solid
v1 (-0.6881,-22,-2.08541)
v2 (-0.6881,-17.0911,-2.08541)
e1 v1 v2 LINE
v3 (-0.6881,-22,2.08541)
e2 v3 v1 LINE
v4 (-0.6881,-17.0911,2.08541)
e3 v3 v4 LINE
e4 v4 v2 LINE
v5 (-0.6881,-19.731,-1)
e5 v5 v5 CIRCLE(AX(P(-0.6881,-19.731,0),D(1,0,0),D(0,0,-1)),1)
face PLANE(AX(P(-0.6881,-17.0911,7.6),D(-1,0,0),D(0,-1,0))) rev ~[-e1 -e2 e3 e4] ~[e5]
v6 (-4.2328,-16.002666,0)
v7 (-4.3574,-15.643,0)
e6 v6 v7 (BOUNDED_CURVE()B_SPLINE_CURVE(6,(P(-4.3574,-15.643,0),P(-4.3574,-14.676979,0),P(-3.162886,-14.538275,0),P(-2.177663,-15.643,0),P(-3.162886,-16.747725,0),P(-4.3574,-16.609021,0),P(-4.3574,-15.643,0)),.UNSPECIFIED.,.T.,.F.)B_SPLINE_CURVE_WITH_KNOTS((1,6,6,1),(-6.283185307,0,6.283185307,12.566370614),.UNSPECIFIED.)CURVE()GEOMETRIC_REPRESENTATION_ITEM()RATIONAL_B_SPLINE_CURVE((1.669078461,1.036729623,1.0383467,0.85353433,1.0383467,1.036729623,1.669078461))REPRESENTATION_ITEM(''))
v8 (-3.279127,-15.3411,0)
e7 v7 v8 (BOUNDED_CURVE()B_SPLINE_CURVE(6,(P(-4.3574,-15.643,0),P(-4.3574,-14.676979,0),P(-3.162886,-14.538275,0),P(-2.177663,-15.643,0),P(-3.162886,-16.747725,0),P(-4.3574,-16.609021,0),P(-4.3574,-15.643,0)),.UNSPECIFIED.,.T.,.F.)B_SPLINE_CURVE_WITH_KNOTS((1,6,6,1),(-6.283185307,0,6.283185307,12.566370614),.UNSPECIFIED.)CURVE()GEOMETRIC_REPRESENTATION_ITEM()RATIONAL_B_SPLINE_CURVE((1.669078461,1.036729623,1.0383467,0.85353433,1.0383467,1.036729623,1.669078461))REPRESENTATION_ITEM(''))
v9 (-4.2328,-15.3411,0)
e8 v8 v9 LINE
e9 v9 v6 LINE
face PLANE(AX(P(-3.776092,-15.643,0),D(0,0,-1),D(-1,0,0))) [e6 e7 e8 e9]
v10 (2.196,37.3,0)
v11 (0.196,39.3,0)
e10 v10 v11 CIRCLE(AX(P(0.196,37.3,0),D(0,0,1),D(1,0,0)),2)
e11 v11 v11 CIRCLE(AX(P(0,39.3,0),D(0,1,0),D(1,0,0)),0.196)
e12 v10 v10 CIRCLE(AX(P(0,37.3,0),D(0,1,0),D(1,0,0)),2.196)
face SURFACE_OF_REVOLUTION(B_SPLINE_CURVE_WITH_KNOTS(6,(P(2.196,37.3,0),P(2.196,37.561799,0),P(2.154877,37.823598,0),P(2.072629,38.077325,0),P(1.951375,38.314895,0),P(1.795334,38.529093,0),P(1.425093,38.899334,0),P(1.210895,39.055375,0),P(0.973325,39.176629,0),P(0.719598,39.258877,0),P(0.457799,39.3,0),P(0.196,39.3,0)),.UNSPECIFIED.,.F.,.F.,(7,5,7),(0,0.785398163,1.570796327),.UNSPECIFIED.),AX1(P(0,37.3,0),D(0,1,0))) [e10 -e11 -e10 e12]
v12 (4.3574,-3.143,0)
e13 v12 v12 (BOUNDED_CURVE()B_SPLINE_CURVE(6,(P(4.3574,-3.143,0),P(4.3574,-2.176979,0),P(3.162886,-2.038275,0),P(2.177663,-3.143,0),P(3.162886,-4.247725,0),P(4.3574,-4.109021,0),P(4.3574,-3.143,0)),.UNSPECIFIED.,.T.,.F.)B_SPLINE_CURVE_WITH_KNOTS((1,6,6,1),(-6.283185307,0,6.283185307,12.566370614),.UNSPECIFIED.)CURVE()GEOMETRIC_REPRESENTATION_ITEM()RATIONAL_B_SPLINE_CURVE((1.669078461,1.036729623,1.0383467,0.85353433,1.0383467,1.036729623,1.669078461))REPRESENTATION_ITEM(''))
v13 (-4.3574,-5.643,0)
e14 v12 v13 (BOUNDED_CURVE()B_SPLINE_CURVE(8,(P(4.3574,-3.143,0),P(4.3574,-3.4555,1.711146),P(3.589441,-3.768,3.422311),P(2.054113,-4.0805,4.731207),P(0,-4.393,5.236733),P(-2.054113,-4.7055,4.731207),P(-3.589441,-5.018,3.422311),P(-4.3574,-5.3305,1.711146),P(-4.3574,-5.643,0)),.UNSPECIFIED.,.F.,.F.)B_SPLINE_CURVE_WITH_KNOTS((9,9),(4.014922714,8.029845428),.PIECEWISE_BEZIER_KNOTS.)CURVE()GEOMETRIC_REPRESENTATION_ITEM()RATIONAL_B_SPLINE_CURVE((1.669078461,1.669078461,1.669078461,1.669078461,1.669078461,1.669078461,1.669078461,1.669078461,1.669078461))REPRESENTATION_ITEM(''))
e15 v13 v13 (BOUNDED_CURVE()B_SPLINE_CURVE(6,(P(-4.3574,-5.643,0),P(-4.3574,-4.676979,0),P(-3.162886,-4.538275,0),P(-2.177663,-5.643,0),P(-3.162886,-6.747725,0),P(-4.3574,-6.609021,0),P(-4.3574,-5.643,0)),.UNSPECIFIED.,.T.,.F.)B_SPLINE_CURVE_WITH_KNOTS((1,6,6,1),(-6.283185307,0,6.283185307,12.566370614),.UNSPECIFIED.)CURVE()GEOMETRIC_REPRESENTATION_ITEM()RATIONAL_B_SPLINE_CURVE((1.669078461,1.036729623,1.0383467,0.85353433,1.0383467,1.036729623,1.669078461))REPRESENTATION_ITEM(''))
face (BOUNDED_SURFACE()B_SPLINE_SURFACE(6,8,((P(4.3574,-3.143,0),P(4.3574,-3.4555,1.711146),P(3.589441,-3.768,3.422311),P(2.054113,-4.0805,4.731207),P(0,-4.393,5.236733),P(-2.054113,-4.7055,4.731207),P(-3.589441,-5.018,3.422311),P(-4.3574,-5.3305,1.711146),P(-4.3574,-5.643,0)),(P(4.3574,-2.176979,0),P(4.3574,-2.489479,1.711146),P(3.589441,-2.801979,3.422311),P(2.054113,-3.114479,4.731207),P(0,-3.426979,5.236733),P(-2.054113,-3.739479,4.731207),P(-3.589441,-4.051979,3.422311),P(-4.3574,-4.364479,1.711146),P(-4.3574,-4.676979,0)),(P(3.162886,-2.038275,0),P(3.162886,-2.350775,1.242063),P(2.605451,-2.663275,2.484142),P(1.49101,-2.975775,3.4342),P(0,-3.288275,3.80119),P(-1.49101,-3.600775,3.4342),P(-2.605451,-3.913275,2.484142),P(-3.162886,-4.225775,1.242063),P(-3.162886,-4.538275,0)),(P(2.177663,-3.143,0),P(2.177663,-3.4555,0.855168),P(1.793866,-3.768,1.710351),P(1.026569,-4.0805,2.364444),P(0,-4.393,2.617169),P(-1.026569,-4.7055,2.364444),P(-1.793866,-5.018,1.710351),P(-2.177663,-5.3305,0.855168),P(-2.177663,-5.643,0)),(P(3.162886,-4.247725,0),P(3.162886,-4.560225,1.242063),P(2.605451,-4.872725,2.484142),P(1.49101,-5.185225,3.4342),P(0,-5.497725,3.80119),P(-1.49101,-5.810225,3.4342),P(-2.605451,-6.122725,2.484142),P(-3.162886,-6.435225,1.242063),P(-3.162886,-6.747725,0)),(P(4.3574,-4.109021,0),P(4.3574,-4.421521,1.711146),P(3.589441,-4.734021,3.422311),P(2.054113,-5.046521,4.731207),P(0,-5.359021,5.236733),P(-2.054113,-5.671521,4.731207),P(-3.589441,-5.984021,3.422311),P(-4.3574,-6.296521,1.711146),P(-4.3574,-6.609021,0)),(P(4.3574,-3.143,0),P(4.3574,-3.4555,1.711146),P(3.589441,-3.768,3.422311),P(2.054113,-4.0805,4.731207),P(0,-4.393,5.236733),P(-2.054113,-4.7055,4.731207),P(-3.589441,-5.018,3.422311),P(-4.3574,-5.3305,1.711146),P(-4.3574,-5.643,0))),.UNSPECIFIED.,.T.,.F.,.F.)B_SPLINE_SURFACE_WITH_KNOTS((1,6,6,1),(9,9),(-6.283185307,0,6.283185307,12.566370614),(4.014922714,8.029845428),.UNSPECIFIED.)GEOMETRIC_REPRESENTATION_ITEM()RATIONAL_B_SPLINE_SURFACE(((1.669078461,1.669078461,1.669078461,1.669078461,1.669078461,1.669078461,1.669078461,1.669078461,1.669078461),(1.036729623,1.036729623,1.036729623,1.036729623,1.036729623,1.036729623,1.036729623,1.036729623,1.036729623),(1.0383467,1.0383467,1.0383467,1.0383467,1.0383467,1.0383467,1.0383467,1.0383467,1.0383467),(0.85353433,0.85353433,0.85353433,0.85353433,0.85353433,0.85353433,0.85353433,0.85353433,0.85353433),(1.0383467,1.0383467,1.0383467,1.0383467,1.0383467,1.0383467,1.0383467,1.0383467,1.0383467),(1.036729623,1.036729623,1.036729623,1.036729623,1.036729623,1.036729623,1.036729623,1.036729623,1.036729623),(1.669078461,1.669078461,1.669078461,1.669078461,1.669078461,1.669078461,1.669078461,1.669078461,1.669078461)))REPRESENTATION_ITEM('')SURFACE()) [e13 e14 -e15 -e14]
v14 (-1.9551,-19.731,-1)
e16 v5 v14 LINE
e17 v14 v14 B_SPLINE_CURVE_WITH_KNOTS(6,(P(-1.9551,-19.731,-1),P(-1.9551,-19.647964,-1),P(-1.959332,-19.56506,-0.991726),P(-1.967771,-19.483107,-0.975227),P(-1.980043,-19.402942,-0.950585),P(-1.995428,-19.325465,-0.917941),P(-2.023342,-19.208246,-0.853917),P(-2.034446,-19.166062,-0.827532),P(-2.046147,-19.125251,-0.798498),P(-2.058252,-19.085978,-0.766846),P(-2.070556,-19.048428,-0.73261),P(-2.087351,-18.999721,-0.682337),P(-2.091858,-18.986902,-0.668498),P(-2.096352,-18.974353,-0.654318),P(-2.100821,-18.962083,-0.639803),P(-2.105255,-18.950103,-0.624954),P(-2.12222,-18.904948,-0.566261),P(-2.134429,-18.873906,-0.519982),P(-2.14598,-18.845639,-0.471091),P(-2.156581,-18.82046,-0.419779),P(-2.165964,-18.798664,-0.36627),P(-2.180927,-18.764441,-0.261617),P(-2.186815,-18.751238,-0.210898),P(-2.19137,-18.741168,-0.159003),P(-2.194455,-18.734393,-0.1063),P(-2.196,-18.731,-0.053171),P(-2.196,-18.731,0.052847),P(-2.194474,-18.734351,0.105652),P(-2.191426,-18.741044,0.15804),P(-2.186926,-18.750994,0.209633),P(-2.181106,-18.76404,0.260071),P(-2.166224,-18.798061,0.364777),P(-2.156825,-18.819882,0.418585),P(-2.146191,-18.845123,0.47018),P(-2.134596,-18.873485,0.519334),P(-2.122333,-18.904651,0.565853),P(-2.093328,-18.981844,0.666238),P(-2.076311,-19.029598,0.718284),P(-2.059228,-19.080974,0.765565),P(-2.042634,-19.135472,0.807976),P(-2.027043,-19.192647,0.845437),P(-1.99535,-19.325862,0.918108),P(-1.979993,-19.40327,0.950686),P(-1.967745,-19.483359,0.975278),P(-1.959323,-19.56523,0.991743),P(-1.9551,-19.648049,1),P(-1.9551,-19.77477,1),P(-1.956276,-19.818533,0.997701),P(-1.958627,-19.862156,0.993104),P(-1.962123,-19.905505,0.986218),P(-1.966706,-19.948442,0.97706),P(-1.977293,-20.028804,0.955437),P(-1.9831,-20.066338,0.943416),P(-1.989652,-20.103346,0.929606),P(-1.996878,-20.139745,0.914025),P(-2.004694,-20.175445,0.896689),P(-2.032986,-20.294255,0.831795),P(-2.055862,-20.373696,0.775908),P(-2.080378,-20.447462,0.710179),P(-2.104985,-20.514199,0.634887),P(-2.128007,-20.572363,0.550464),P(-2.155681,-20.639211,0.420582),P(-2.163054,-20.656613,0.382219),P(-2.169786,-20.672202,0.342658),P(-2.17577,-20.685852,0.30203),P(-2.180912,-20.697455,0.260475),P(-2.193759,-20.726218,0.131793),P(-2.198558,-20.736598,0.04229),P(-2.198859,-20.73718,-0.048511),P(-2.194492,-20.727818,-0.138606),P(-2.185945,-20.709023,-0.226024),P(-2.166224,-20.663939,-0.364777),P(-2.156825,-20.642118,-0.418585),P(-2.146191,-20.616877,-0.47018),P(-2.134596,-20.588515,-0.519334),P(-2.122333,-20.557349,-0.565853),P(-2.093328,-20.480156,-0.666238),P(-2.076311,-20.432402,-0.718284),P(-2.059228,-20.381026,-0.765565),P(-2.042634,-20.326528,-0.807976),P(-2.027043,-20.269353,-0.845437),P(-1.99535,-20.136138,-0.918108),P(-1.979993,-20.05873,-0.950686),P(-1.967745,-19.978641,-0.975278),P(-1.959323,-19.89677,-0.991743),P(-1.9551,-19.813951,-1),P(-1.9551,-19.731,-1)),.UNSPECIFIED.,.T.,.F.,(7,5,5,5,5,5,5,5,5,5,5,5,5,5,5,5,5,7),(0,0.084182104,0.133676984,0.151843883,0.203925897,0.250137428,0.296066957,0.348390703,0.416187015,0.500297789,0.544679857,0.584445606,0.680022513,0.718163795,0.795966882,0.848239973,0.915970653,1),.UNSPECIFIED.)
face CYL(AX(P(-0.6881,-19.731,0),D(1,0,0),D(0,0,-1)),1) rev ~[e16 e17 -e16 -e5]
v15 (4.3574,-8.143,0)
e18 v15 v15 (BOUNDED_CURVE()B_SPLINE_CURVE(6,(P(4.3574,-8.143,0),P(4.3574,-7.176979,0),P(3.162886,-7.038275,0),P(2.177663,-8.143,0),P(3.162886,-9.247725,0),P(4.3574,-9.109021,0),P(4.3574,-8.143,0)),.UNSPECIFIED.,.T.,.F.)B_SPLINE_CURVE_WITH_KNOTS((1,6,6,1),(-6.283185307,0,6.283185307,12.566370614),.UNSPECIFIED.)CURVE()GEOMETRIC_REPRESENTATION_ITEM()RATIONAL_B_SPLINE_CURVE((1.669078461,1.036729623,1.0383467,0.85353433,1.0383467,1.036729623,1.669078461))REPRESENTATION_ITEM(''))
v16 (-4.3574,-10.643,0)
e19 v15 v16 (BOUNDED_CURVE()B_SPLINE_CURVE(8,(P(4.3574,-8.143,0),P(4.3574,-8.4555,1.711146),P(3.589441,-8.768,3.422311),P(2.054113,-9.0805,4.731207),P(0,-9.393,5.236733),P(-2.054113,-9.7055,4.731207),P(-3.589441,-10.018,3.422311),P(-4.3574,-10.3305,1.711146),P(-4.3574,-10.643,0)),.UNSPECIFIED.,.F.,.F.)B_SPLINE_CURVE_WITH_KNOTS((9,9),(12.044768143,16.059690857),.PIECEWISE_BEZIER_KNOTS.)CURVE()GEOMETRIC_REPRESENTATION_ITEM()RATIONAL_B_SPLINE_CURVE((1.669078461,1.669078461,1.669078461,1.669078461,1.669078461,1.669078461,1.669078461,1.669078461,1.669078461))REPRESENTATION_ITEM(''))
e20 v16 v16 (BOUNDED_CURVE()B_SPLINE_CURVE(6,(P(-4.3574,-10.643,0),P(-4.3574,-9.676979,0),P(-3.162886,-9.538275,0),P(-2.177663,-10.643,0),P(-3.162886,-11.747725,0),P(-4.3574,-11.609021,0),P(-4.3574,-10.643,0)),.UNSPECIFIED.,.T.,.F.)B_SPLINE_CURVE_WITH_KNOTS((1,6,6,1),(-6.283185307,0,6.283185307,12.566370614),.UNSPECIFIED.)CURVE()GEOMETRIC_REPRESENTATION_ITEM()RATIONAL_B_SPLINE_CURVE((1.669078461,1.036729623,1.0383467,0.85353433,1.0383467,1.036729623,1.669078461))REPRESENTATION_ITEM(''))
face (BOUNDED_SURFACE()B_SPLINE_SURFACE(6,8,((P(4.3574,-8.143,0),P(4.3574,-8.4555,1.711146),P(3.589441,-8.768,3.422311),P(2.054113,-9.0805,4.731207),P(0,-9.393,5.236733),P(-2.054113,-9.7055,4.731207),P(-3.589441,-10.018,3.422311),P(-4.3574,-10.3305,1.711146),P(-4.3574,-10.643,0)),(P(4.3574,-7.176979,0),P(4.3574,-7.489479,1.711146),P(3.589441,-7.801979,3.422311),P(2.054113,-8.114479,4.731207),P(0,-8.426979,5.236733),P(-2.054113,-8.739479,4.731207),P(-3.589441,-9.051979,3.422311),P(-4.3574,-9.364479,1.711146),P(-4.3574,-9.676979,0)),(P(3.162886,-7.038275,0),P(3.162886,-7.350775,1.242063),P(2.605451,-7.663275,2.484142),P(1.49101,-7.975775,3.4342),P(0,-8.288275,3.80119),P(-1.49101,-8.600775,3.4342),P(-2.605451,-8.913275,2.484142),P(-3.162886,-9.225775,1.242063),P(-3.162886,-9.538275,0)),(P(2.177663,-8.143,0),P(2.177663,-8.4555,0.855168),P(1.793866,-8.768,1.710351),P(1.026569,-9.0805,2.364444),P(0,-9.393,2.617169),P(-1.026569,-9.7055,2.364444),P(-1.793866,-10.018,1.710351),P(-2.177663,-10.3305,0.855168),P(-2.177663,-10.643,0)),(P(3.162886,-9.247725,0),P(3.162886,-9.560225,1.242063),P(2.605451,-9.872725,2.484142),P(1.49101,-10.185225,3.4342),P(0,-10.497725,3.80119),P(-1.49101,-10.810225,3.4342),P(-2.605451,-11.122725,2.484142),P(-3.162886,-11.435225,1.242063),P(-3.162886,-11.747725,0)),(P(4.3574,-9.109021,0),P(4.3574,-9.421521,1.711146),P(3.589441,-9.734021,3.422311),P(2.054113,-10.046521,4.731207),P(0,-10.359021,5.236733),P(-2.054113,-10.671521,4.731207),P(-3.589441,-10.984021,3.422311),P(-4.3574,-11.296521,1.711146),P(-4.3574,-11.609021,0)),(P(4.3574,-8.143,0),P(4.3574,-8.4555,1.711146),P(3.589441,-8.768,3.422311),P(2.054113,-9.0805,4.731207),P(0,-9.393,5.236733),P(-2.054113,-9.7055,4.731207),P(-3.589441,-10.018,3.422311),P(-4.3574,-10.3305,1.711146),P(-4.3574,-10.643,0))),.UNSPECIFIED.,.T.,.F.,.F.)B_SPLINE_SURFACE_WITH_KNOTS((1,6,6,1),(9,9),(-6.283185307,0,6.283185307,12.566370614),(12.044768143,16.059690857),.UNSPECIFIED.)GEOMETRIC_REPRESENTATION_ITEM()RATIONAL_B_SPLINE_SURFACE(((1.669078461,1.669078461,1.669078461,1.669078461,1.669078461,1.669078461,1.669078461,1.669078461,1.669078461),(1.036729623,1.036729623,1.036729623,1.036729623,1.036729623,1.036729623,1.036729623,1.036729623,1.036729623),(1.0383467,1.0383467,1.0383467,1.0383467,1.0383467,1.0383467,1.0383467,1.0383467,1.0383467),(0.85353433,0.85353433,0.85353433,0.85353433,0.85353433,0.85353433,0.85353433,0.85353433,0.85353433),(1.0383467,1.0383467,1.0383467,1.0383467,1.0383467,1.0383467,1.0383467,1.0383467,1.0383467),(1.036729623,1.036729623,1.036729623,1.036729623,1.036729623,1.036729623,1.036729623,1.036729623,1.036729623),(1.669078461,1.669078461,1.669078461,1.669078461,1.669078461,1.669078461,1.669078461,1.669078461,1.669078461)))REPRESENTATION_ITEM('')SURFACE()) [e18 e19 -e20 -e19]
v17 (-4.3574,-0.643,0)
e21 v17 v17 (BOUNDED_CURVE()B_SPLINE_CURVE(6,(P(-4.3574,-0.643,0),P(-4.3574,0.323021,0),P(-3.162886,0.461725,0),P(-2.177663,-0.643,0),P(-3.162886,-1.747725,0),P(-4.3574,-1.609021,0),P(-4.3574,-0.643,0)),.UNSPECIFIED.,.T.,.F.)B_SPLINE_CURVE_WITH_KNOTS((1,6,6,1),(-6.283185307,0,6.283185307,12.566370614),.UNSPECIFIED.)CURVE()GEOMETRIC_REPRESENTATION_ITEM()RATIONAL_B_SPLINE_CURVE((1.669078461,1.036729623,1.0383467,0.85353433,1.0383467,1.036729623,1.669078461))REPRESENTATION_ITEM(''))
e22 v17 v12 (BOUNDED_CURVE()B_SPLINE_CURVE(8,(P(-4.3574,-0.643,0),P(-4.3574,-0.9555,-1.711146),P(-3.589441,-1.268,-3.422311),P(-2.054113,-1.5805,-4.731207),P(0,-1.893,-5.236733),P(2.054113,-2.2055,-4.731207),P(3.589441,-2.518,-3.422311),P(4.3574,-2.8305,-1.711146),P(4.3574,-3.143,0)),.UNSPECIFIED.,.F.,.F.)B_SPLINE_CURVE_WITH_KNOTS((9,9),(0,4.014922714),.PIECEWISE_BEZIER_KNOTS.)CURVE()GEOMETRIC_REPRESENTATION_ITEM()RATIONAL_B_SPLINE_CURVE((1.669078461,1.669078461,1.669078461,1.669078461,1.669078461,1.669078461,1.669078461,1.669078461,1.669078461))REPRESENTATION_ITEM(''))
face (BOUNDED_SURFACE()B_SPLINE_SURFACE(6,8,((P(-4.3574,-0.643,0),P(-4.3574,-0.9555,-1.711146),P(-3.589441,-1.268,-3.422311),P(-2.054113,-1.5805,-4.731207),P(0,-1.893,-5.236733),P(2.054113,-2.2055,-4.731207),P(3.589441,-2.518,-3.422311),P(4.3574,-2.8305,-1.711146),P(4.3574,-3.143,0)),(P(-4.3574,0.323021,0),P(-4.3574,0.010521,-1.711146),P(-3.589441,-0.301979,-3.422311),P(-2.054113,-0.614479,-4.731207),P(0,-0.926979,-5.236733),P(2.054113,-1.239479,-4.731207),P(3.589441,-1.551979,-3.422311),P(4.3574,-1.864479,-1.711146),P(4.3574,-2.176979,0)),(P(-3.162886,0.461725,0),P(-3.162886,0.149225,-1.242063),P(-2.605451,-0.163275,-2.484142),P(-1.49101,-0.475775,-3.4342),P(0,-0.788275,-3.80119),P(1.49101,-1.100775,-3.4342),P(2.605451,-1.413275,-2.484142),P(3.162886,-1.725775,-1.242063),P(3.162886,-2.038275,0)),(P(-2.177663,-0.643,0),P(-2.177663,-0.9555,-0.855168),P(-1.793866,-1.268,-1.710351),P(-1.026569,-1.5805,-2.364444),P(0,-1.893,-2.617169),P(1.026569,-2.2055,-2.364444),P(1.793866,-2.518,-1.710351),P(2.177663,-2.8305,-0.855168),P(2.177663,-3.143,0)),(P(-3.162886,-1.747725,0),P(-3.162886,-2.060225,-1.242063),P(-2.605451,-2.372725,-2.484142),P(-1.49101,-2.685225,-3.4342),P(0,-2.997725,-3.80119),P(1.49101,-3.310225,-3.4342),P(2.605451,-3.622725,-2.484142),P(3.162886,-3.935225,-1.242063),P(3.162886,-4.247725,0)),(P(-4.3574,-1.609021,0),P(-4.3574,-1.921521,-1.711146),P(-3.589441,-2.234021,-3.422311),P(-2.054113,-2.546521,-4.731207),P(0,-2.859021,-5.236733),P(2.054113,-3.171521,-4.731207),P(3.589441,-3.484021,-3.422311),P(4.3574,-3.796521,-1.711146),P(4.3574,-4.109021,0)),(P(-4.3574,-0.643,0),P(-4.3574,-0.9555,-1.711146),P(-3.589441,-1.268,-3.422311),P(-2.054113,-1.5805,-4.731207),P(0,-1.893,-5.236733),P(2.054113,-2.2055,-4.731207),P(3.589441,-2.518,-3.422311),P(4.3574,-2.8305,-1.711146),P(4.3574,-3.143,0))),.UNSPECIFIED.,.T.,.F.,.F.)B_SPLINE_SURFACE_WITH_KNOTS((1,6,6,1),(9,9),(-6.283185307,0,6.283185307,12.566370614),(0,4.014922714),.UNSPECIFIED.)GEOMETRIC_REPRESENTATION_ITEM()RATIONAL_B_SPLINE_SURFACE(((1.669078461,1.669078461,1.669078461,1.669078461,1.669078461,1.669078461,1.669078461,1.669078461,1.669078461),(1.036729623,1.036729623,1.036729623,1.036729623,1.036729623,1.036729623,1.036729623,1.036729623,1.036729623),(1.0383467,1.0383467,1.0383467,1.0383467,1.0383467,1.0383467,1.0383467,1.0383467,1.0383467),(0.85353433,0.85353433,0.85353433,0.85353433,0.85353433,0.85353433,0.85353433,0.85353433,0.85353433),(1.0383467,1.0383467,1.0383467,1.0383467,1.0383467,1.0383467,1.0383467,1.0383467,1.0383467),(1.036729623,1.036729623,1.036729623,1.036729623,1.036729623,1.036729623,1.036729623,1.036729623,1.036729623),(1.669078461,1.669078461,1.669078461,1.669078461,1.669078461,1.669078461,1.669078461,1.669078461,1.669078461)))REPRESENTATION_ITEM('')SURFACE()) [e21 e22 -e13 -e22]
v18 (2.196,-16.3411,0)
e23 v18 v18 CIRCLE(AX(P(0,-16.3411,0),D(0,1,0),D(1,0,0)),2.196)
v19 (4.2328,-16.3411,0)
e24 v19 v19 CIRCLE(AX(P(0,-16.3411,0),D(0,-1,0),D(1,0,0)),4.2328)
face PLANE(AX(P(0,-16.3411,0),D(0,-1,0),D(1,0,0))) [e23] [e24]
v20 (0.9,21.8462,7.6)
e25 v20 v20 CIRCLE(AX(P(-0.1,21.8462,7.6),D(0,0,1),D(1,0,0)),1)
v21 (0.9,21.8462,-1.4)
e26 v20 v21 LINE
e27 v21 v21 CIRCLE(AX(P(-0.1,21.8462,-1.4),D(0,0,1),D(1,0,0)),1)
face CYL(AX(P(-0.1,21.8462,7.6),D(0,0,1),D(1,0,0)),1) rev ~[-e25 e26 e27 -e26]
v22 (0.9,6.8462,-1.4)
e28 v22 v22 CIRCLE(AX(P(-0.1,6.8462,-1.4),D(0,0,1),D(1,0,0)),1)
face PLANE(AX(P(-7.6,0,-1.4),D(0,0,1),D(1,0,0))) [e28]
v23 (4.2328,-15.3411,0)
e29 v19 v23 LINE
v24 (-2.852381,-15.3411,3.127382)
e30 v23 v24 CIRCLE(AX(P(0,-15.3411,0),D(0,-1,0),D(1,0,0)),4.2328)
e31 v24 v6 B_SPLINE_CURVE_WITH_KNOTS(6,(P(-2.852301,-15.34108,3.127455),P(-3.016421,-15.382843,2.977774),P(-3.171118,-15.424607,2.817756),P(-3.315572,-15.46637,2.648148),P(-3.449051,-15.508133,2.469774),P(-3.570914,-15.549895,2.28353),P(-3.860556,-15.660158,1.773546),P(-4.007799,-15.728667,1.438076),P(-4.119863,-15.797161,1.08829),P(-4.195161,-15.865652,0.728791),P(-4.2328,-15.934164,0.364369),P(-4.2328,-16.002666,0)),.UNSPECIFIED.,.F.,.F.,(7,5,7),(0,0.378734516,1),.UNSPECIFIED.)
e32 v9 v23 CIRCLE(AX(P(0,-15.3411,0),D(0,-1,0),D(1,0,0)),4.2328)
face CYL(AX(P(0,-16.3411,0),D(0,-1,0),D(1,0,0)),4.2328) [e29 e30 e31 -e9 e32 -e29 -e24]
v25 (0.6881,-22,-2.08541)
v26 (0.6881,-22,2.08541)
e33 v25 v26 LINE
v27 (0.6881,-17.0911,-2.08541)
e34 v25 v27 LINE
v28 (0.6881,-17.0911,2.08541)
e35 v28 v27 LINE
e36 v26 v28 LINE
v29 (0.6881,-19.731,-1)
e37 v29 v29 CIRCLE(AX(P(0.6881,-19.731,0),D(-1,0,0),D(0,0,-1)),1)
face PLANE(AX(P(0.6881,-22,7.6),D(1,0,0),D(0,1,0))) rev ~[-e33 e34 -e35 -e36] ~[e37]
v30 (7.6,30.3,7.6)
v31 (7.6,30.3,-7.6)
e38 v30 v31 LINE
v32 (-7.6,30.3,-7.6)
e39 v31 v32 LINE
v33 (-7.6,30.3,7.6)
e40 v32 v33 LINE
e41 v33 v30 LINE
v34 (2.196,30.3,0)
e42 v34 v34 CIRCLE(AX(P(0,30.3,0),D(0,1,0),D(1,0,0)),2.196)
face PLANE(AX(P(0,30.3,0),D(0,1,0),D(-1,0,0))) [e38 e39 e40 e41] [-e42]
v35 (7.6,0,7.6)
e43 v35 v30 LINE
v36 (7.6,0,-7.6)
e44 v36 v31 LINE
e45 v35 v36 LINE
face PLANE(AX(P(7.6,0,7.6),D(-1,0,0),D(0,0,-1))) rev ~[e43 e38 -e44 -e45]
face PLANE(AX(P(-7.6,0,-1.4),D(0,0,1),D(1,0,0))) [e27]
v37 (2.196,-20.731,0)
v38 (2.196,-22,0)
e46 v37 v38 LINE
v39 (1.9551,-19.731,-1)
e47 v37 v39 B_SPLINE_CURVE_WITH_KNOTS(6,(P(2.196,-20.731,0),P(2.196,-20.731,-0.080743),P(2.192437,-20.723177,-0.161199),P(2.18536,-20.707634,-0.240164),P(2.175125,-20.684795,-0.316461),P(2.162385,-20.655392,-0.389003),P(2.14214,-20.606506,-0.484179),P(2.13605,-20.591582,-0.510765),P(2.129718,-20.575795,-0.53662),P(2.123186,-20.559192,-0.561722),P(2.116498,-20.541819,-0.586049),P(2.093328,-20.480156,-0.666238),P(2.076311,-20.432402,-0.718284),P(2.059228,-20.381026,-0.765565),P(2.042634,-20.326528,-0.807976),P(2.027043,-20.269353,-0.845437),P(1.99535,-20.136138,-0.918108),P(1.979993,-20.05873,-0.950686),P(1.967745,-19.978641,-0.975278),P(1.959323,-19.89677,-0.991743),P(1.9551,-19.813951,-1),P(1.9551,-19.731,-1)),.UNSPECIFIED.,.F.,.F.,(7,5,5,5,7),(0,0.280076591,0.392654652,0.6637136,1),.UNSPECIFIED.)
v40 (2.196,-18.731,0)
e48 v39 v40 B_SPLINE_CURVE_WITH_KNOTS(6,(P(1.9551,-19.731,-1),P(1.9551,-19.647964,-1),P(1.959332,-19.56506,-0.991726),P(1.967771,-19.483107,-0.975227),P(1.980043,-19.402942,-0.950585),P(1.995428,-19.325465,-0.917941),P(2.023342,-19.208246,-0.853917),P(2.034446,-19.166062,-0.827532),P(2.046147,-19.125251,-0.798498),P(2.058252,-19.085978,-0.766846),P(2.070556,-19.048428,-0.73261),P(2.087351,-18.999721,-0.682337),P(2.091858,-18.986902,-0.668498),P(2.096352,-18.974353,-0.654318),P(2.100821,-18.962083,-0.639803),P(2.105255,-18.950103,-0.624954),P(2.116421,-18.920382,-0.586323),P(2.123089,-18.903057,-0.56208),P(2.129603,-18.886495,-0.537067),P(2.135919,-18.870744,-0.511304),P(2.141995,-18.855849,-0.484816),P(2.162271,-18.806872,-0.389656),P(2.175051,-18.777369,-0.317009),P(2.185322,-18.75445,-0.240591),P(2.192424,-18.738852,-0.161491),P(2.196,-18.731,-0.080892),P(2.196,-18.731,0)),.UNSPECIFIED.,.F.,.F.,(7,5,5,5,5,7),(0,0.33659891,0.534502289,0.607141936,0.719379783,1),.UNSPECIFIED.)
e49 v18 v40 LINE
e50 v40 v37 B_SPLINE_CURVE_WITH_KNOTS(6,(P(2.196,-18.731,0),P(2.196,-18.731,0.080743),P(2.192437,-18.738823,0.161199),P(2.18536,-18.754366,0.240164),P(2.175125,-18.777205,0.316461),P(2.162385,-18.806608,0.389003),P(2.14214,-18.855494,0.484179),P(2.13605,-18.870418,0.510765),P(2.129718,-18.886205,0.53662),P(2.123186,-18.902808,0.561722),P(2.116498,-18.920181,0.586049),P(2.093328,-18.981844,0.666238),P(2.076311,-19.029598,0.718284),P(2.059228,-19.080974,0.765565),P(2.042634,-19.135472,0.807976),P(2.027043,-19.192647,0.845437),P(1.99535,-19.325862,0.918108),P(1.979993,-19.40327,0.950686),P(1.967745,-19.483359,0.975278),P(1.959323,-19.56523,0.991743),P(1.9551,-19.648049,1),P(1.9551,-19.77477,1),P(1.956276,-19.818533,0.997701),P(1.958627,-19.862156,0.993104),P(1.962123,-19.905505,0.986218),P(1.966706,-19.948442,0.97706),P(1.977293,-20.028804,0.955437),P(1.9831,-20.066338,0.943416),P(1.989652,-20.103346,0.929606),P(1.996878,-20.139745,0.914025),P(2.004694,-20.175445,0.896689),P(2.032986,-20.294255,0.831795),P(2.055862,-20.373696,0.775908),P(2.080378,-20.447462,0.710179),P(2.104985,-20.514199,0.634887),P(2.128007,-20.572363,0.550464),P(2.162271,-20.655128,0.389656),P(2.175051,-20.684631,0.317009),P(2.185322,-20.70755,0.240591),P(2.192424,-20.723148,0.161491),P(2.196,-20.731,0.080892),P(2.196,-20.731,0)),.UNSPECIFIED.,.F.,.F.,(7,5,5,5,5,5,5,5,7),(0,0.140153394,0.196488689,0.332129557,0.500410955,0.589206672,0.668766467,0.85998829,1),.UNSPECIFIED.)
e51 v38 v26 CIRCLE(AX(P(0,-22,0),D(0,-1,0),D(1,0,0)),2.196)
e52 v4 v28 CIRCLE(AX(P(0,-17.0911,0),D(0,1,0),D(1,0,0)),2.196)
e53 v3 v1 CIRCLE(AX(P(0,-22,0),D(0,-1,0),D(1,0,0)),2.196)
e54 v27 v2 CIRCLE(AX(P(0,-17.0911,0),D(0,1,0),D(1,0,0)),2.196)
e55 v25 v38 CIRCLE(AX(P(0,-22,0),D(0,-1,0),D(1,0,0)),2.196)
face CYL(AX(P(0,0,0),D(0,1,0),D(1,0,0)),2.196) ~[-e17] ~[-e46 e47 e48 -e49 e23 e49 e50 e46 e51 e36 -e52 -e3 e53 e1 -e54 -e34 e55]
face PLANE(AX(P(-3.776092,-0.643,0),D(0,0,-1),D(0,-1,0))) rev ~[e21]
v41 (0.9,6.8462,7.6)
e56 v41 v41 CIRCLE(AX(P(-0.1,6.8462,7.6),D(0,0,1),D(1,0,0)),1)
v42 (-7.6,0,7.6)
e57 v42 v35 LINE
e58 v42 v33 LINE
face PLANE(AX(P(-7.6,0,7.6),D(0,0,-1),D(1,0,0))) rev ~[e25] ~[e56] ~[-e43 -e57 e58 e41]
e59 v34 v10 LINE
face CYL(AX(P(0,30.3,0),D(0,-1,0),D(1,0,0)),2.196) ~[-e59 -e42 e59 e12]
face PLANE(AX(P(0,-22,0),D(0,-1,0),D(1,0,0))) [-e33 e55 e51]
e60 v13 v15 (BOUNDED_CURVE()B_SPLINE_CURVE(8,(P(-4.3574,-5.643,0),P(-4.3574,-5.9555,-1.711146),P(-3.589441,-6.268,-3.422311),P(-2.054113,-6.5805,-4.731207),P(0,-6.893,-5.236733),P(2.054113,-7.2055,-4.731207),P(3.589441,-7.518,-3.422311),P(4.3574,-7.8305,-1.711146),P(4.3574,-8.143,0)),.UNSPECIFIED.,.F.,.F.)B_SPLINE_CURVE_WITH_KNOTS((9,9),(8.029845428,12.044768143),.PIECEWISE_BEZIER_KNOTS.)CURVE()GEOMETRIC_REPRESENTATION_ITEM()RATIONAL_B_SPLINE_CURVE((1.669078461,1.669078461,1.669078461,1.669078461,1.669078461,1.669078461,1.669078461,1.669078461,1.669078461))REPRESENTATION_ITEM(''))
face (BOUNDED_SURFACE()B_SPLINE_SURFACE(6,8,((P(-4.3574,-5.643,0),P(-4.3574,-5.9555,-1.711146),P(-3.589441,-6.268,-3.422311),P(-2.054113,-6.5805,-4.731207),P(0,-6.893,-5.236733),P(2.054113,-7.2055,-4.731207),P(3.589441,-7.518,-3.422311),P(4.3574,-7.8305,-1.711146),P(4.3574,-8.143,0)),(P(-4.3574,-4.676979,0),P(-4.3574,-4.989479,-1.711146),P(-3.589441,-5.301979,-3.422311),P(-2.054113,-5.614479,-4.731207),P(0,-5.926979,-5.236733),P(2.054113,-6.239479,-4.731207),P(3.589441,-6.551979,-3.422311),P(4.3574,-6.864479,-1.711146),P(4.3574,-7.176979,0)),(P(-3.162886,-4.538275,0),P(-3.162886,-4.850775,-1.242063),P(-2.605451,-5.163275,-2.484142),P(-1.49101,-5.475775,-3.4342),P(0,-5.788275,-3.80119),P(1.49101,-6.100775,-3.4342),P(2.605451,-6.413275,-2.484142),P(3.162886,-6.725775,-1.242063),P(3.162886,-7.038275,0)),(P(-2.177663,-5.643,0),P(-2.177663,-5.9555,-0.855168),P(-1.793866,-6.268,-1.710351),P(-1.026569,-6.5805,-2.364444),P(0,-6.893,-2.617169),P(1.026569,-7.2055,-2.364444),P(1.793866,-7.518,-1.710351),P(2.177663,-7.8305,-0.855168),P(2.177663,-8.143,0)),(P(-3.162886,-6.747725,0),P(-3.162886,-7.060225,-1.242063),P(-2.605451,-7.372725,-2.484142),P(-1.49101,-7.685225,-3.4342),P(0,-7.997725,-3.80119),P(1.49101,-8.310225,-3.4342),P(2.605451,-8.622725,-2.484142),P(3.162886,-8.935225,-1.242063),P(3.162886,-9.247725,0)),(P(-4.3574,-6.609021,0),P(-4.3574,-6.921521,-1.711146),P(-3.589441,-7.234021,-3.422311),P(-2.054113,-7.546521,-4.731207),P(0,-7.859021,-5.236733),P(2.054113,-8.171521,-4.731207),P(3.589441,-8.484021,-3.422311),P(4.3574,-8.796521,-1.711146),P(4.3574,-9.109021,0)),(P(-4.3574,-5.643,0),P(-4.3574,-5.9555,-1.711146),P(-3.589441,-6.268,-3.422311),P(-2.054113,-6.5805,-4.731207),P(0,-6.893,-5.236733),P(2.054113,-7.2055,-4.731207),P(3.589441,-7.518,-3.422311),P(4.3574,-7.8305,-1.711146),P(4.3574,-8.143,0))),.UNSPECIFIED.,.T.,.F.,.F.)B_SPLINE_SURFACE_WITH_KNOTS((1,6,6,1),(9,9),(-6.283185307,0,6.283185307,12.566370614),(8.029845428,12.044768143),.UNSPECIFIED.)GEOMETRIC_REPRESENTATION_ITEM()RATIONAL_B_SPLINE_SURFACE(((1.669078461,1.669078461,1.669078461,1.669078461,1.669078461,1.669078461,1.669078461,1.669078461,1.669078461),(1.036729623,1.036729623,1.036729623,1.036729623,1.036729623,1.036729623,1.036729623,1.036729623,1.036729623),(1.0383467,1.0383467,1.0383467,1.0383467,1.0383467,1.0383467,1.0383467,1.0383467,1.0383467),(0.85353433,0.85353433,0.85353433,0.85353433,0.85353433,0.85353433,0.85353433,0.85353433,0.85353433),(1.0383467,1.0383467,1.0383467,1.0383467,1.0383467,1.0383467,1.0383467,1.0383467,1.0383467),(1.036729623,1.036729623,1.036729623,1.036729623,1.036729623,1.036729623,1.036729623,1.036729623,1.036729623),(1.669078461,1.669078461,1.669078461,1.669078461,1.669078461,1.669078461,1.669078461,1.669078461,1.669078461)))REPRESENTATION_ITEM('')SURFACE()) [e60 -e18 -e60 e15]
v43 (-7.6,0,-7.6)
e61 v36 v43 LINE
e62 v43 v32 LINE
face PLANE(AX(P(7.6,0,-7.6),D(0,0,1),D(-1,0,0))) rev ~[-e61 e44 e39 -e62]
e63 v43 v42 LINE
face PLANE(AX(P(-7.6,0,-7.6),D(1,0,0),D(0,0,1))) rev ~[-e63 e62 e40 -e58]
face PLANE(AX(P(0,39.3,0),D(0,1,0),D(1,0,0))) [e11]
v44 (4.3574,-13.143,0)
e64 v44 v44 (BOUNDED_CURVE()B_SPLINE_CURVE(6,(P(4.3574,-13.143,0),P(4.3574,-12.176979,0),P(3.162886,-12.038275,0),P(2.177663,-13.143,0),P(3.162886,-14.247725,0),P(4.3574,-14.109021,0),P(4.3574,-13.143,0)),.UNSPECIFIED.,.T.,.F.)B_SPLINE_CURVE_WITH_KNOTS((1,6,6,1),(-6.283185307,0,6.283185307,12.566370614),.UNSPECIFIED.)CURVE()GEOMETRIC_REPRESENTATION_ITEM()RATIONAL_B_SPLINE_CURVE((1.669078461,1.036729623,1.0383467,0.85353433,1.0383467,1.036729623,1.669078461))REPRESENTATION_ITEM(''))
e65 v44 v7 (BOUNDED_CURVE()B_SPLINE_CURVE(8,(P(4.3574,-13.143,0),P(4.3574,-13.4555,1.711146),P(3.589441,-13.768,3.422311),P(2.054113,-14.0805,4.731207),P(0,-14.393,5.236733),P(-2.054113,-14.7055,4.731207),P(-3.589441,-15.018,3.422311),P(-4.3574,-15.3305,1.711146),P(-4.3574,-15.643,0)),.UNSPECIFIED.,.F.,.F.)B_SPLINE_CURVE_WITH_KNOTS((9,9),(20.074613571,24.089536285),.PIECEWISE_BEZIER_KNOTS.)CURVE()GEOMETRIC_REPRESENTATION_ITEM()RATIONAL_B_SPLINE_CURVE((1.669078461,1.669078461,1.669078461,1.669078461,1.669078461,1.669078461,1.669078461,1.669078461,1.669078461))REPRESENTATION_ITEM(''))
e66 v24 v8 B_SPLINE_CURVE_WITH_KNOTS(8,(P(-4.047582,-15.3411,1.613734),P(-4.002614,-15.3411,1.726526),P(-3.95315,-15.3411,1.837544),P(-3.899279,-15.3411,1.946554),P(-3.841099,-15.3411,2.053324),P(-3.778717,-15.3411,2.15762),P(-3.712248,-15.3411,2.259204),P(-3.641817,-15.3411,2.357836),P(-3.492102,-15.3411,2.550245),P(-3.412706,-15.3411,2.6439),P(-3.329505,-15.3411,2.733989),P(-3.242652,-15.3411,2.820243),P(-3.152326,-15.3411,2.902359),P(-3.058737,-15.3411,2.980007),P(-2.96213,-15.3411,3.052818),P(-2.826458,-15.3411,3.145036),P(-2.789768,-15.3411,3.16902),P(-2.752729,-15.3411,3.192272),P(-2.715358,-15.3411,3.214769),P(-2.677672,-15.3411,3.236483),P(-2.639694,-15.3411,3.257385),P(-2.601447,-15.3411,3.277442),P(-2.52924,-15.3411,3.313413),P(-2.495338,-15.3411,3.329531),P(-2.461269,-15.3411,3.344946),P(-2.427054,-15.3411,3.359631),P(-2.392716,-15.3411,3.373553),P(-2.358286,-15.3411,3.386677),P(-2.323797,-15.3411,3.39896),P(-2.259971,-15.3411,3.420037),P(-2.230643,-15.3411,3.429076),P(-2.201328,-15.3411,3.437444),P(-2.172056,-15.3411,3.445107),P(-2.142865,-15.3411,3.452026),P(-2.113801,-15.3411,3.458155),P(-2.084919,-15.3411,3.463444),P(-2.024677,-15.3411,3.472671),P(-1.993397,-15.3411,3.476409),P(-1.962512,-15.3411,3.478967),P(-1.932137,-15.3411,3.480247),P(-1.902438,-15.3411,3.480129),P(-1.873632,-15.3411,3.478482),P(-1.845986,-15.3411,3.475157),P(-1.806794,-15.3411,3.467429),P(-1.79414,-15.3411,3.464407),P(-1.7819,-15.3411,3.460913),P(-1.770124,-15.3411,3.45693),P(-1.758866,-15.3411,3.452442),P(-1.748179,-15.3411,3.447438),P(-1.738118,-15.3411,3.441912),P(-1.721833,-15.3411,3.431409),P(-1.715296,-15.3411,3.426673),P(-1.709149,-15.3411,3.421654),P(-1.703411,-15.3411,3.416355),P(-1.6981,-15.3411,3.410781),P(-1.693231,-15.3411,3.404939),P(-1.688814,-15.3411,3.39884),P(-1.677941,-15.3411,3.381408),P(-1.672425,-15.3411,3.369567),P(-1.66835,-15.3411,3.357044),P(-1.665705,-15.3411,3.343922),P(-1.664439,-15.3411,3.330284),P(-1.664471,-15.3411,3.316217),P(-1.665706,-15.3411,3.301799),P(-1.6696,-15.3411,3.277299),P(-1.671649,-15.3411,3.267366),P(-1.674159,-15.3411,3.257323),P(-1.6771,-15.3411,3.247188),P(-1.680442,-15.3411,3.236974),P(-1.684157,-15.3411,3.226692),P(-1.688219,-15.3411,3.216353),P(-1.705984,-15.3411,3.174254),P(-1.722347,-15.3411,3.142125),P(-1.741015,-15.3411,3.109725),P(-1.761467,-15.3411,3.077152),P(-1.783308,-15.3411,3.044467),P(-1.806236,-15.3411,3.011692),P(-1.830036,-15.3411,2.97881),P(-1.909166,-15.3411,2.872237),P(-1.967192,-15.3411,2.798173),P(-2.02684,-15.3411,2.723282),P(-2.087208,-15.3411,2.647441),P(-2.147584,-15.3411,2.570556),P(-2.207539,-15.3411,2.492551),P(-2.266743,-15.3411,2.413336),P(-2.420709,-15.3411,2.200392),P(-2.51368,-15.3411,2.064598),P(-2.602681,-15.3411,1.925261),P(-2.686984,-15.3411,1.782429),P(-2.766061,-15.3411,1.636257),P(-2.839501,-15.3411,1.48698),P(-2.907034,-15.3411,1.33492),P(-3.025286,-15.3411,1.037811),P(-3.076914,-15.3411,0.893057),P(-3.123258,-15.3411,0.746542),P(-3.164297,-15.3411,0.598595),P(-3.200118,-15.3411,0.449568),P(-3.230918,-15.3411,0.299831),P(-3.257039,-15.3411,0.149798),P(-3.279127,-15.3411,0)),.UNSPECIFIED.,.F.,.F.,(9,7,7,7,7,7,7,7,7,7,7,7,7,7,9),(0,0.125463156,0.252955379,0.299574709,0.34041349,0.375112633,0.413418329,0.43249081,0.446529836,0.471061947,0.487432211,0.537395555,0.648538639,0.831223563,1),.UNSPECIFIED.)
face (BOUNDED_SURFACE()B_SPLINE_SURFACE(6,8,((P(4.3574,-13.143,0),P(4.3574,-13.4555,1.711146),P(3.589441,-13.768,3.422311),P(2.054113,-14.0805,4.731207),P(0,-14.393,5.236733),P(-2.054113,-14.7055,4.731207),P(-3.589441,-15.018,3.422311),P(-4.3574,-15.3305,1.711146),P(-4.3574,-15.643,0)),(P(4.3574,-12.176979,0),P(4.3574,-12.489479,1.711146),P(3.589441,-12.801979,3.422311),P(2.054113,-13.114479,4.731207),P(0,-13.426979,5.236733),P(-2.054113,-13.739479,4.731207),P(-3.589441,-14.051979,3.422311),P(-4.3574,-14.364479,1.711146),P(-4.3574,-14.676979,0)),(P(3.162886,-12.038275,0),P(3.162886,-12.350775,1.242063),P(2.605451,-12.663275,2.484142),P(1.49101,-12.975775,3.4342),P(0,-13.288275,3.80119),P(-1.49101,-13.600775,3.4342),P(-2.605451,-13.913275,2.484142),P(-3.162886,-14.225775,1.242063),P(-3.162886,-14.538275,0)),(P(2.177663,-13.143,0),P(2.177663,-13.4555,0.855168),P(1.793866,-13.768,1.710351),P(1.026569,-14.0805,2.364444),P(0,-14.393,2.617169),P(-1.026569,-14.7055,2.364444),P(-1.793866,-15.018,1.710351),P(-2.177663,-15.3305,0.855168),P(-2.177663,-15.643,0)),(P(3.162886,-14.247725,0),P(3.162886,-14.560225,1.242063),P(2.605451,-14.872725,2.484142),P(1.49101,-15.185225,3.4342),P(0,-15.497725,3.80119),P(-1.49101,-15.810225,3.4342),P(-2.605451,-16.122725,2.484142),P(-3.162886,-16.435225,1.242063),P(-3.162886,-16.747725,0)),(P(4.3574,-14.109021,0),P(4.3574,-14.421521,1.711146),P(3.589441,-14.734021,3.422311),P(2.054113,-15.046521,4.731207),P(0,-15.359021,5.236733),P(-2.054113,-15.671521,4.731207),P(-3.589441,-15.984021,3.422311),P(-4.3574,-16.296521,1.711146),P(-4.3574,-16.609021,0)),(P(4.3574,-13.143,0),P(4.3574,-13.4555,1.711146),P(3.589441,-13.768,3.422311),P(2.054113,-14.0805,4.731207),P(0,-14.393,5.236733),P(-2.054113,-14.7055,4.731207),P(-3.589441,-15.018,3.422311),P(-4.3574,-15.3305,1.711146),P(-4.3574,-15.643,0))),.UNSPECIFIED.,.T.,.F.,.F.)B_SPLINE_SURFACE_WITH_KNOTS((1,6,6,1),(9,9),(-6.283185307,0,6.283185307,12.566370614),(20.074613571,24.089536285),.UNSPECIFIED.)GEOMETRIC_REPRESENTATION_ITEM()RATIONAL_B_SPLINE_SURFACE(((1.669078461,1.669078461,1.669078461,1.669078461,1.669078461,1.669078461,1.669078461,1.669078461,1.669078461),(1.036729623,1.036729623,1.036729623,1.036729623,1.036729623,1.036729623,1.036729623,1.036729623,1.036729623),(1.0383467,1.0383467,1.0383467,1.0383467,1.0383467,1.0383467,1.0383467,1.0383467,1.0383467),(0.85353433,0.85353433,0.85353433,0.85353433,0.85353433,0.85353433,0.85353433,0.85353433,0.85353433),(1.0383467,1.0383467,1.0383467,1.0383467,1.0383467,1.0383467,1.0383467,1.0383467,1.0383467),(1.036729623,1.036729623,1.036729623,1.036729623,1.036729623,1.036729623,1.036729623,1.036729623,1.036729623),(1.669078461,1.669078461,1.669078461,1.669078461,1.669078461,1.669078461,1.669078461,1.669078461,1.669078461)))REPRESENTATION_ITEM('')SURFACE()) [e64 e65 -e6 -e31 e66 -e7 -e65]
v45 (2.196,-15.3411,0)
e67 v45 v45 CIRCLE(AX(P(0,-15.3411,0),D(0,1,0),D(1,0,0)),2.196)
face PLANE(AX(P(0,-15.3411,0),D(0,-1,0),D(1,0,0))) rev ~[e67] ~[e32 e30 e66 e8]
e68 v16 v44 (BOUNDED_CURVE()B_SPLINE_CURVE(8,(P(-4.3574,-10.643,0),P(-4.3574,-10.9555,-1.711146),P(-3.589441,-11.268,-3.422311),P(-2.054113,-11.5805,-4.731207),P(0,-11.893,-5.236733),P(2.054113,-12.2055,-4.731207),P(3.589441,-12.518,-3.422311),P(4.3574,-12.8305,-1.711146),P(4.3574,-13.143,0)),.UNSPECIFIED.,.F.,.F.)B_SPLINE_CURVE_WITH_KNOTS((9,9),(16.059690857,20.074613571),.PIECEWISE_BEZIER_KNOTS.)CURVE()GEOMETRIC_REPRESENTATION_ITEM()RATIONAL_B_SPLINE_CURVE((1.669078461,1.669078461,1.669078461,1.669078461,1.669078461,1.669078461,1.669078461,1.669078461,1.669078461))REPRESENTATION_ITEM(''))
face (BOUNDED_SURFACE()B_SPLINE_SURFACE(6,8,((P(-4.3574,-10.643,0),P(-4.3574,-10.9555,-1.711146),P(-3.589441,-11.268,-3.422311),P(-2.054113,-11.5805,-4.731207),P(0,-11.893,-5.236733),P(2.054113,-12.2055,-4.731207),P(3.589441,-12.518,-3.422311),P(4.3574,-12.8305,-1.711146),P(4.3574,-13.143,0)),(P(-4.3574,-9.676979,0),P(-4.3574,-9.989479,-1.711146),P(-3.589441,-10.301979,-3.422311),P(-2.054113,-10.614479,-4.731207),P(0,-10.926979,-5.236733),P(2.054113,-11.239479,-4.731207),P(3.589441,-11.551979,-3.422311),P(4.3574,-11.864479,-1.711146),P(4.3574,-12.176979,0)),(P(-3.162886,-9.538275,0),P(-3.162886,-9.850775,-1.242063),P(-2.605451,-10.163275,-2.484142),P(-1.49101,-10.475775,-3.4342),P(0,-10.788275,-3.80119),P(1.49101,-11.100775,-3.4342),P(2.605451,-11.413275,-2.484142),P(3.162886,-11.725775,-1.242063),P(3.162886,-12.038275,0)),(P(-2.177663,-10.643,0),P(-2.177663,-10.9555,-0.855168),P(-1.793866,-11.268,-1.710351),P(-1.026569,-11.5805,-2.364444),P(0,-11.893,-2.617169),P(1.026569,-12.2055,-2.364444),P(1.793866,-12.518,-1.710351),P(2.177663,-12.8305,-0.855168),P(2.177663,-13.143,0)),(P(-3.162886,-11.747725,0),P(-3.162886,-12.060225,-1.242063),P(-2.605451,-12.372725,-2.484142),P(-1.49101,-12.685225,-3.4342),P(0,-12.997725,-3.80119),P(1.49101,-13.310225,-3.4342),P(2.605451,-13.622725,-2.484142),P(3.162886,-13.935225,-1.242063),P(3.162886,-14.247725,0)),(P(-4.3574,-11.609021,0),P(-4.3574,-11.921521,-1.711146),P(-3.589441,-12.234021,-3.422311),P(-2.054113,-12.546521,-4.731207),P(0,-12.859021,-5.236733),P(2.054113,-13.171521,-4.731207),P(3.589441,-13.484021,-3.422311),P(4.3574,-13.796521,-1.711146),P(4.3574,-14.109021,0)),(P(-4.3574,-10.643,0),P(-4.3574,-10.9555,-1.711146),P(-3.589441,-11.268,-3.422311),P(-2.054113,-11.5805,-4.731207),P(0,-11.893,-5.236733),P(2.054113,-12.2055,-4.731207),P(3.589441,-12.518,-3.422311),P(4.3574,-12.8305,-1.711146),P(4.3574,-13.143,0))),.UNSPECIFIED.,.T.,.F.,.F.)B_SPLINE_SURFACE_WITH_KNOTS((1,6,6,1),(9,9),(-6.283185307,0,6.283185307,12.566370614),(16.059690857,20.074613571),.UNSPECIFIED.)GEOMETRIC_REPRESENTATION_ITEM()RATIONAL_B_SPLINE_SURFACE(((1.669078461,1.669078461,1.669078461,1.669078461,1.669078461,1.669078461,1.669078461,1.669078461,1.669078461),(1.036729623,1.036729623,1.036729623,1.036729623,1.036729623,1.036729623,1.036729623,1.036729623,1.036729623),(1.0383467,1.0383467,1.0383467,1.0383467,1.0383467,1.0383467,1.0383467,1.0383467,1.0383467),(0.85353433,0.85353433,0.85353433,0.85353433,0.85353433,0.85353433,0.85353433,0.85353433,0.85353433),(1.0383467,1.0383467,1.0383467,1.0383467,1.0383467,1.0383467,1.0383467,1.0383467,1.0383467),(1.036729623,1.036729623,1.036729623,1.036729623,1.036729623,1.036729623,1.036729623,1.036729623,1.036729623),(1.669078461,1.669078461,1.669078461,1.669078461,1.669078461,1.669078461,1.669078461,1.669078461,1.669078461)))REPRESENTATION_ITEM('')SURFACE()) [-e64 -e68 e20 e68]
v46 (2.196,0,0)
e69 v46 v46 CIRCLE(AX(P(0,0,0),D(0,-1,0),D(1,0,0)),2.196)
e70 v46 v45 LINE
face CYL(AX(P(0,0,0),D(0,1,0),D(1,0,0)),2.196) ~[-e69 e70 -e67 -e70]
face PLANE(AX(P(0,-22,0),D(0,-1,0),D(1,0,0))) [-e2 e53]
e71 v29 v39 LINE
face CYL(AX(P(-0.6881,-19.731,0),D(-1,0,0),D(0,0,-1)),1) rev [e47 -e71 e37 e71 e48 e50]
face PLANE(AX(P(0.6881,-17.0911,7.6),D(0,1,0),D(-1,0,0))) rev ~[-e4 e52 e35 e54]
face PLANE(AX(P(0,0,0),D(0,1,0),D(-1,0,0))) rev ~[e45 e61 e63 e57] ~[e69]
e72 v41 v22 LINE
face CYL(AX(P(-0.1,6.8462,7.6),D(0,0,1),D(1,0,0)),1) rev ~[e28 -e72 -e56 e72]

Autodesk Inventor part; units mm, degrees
ref_plane "YZ Plane" through (0, 0, 0) normal (1, 0, 0) x (0, 1, 0)
ref_plane "XZ Plane" through (0, 0, 0) normal (0, 1, 0) x (-1, 0, 0)
ref_plane "XY Plane" through (0, 0, 0) normal (0, 0, 1) x (1, 0, 0)
sketch "Sketch1" plane through (0, 0, 0) normal (0, 1, 0) x (-1, 0, 0)
  line L0 (-7.6, -7.6) -> (7.6, -7.6)
  line L1 (7.6, -7.6) -> (7.6, 7.6)
  line L2 (7.6, 7.6) -> (-7.6, 7.6)
  line L3 (-7.6, 7.6) -> (-7.6, -7.6)
  line L4 (-7.6, -7.6) -> (7.6, 7.6) construction
  line L5 (7.6, -7.6) -> (-7.6, 7.6) construction
  point P0 (0, 0)
  dimension "d0" = 15.2
  dimension "d1" = 15.2
extrude "Extrusion1" add sketch "Sketch1" along normal blind 30.3
sketch "Sketch2" plane through (0, 0, 0) normal (0, -1, 0) x (1, 0, 0)
  line L0 (7.6, -7.6) -> (-7.6, -7.6) projected
  line L1 (7.6, 7.6) -> (7.6, -7.6) projected
  line L2 (-7.6, 7.6) -> (7.6, 7.6) projected
  line L3 (-7.6, -7.6) -> (-7.6, 7.6) projected
  circle A0 centre (0, 0) radius 2.196
extrude "Extrusion2" add sketch "Sketch2" along normal blind 22 contours A0
sketch "Sketch3" plane through (0, 30.3, 0) normal (0, 1, 0) x (1, 0, 0)
  circle A0 centre (0, 0) radius 2.196 projected
extrude "Extrusion3" add sketch "Sketch3" along normal blind 9
sketch "Sketch4" plane through (-7.6, 0, 7.6) normal (0, 0, 1) x (1, 0, 0)
  line L0 (0, 0) -> (15.2, 0) projected
  line L1 (15.2, 0) -> (15.2, 30.3) projected
  line L2 (0, 30.3) -> (15.2, 30.3) projected
  line L3 (0, 0) -> (0, 30.3) projected
  circle A0 centre (7.5, 21.8462) radius 1
  circle A1 centre (7.5, 6.8462) radius 1
  point P0 (7.6, 0)
  dimension "d8" = 2
  dimension "d9" = 2
  dimension "d10" = 15
  dimension "d11" = 0
  dimension "d12" = 7.5
extrude "Extrusion4" cut sketch "Sketch4" against normal blind 9 contours A0 | A1
fillet "Fillet1" radius 2 1 edges at (-2.196, 39.3, 0)
sketch "Sketch5" plane through (-7.6, 0, 7.6) normal (0, 0, 1) x (1, 0, 0)
  line L0 (5.404, -22) -> (9.796, -22) projected
  line L1 (9.796, 0) -> (5.404, 0) projected
  line L2 (6.9119, -26.9089) -> (8.2881, -26.9089)
  line L3 (8.2881, -26.9089) -> (8.2881, -17.0911)
  line L4 (8.2881, -17.0911) -> (6.9119, -17.0911)
  line L5 (6.9119, -17.0911) -> (6.9119, -26.9089)
  line L6 (5.404, -22) -> (9.796, -22) projected
  line L7 (6.9119, -26.9089) -> (8.2881, -17.0911) construction
  line L8 (8.2881, -26.9089) -> (6.9119, -17.0911) construction
  point P0 (7.6, 0)
  point P1 (7.6, -22)
extrude "Extrusion5" cut sketch "Sketch5" against normal through all
sketch "Sketch6" plane through (-0.6881, -22, -2.0854) normal (1, 0, 0) x (0, 0, -1)
  line L0 (0, 4.9089) -> (0, 0) projected
  line L1 (-4.1707, 0) -> (0, 0) projected
  line L2 (-4.1707, 0) -> (-4.1707, 4.9089) projected
  line L3 (-4.1707, 4.9089) -> (-4.1707, 4.9089) projected
  line L4 (-4.1707, 4.9089) -> (-4.1707, 0) projected
  line L5 (0, 0) -> (-4.1707, 0) projected
  line L6 (0, 0) -> (0, 4.9089) projected
  line L7 (0, 4.9089) -> (0, 4.9089) projected
  line L8 (0.1106, 22) -> (-4.2813, 22) projected
  circle A0 centre (-2.0854, 2.269) radius 1
  point P0 (-2.0854, 22)
  dimension "d18" = 2
extrude "Extrusion6" cut sketch "Sketch6" along normal mid plane 9
ref_plane "Work Plane1" through (7.6, 0, 0) normal (0, 0, -1) x (-1, 0, 0)
sketch "Sketch7" plane through (7.6, 0, 0) normal (0, 0, -1) x (-1, 0, 0)
  circle A0 centre (11.376, -0.643) radius 0.5814
  point P0 (7.6, 0)
coil "Coil1" sketch "Sketch7" operation add axis through (0, 0, 0) along (0, -1, 0) pitch 5 turns 3 hand right
ref_plane "Work Plane2" through (0, -16.3411, 0) normal (0, -1, 0) x (1, 0, 0)
sketch "Sketch8" plane through (0, -16.3411, 0) normal (0, -1, 0) x (1, 0, 0)
  arc A0 (0.6881, -2.0854) -> (0.6881, 2.0854) centre (0, 0) ccw projected
  circle A1 centre (0, 0) radius 0.196 projected
  circle A2 centre (0, 0) radius 4.2328
extrude "Extrusion7" add sketch "Sketch8" against normal blind 1
properties part number "00_springloaded_electromagnet"
